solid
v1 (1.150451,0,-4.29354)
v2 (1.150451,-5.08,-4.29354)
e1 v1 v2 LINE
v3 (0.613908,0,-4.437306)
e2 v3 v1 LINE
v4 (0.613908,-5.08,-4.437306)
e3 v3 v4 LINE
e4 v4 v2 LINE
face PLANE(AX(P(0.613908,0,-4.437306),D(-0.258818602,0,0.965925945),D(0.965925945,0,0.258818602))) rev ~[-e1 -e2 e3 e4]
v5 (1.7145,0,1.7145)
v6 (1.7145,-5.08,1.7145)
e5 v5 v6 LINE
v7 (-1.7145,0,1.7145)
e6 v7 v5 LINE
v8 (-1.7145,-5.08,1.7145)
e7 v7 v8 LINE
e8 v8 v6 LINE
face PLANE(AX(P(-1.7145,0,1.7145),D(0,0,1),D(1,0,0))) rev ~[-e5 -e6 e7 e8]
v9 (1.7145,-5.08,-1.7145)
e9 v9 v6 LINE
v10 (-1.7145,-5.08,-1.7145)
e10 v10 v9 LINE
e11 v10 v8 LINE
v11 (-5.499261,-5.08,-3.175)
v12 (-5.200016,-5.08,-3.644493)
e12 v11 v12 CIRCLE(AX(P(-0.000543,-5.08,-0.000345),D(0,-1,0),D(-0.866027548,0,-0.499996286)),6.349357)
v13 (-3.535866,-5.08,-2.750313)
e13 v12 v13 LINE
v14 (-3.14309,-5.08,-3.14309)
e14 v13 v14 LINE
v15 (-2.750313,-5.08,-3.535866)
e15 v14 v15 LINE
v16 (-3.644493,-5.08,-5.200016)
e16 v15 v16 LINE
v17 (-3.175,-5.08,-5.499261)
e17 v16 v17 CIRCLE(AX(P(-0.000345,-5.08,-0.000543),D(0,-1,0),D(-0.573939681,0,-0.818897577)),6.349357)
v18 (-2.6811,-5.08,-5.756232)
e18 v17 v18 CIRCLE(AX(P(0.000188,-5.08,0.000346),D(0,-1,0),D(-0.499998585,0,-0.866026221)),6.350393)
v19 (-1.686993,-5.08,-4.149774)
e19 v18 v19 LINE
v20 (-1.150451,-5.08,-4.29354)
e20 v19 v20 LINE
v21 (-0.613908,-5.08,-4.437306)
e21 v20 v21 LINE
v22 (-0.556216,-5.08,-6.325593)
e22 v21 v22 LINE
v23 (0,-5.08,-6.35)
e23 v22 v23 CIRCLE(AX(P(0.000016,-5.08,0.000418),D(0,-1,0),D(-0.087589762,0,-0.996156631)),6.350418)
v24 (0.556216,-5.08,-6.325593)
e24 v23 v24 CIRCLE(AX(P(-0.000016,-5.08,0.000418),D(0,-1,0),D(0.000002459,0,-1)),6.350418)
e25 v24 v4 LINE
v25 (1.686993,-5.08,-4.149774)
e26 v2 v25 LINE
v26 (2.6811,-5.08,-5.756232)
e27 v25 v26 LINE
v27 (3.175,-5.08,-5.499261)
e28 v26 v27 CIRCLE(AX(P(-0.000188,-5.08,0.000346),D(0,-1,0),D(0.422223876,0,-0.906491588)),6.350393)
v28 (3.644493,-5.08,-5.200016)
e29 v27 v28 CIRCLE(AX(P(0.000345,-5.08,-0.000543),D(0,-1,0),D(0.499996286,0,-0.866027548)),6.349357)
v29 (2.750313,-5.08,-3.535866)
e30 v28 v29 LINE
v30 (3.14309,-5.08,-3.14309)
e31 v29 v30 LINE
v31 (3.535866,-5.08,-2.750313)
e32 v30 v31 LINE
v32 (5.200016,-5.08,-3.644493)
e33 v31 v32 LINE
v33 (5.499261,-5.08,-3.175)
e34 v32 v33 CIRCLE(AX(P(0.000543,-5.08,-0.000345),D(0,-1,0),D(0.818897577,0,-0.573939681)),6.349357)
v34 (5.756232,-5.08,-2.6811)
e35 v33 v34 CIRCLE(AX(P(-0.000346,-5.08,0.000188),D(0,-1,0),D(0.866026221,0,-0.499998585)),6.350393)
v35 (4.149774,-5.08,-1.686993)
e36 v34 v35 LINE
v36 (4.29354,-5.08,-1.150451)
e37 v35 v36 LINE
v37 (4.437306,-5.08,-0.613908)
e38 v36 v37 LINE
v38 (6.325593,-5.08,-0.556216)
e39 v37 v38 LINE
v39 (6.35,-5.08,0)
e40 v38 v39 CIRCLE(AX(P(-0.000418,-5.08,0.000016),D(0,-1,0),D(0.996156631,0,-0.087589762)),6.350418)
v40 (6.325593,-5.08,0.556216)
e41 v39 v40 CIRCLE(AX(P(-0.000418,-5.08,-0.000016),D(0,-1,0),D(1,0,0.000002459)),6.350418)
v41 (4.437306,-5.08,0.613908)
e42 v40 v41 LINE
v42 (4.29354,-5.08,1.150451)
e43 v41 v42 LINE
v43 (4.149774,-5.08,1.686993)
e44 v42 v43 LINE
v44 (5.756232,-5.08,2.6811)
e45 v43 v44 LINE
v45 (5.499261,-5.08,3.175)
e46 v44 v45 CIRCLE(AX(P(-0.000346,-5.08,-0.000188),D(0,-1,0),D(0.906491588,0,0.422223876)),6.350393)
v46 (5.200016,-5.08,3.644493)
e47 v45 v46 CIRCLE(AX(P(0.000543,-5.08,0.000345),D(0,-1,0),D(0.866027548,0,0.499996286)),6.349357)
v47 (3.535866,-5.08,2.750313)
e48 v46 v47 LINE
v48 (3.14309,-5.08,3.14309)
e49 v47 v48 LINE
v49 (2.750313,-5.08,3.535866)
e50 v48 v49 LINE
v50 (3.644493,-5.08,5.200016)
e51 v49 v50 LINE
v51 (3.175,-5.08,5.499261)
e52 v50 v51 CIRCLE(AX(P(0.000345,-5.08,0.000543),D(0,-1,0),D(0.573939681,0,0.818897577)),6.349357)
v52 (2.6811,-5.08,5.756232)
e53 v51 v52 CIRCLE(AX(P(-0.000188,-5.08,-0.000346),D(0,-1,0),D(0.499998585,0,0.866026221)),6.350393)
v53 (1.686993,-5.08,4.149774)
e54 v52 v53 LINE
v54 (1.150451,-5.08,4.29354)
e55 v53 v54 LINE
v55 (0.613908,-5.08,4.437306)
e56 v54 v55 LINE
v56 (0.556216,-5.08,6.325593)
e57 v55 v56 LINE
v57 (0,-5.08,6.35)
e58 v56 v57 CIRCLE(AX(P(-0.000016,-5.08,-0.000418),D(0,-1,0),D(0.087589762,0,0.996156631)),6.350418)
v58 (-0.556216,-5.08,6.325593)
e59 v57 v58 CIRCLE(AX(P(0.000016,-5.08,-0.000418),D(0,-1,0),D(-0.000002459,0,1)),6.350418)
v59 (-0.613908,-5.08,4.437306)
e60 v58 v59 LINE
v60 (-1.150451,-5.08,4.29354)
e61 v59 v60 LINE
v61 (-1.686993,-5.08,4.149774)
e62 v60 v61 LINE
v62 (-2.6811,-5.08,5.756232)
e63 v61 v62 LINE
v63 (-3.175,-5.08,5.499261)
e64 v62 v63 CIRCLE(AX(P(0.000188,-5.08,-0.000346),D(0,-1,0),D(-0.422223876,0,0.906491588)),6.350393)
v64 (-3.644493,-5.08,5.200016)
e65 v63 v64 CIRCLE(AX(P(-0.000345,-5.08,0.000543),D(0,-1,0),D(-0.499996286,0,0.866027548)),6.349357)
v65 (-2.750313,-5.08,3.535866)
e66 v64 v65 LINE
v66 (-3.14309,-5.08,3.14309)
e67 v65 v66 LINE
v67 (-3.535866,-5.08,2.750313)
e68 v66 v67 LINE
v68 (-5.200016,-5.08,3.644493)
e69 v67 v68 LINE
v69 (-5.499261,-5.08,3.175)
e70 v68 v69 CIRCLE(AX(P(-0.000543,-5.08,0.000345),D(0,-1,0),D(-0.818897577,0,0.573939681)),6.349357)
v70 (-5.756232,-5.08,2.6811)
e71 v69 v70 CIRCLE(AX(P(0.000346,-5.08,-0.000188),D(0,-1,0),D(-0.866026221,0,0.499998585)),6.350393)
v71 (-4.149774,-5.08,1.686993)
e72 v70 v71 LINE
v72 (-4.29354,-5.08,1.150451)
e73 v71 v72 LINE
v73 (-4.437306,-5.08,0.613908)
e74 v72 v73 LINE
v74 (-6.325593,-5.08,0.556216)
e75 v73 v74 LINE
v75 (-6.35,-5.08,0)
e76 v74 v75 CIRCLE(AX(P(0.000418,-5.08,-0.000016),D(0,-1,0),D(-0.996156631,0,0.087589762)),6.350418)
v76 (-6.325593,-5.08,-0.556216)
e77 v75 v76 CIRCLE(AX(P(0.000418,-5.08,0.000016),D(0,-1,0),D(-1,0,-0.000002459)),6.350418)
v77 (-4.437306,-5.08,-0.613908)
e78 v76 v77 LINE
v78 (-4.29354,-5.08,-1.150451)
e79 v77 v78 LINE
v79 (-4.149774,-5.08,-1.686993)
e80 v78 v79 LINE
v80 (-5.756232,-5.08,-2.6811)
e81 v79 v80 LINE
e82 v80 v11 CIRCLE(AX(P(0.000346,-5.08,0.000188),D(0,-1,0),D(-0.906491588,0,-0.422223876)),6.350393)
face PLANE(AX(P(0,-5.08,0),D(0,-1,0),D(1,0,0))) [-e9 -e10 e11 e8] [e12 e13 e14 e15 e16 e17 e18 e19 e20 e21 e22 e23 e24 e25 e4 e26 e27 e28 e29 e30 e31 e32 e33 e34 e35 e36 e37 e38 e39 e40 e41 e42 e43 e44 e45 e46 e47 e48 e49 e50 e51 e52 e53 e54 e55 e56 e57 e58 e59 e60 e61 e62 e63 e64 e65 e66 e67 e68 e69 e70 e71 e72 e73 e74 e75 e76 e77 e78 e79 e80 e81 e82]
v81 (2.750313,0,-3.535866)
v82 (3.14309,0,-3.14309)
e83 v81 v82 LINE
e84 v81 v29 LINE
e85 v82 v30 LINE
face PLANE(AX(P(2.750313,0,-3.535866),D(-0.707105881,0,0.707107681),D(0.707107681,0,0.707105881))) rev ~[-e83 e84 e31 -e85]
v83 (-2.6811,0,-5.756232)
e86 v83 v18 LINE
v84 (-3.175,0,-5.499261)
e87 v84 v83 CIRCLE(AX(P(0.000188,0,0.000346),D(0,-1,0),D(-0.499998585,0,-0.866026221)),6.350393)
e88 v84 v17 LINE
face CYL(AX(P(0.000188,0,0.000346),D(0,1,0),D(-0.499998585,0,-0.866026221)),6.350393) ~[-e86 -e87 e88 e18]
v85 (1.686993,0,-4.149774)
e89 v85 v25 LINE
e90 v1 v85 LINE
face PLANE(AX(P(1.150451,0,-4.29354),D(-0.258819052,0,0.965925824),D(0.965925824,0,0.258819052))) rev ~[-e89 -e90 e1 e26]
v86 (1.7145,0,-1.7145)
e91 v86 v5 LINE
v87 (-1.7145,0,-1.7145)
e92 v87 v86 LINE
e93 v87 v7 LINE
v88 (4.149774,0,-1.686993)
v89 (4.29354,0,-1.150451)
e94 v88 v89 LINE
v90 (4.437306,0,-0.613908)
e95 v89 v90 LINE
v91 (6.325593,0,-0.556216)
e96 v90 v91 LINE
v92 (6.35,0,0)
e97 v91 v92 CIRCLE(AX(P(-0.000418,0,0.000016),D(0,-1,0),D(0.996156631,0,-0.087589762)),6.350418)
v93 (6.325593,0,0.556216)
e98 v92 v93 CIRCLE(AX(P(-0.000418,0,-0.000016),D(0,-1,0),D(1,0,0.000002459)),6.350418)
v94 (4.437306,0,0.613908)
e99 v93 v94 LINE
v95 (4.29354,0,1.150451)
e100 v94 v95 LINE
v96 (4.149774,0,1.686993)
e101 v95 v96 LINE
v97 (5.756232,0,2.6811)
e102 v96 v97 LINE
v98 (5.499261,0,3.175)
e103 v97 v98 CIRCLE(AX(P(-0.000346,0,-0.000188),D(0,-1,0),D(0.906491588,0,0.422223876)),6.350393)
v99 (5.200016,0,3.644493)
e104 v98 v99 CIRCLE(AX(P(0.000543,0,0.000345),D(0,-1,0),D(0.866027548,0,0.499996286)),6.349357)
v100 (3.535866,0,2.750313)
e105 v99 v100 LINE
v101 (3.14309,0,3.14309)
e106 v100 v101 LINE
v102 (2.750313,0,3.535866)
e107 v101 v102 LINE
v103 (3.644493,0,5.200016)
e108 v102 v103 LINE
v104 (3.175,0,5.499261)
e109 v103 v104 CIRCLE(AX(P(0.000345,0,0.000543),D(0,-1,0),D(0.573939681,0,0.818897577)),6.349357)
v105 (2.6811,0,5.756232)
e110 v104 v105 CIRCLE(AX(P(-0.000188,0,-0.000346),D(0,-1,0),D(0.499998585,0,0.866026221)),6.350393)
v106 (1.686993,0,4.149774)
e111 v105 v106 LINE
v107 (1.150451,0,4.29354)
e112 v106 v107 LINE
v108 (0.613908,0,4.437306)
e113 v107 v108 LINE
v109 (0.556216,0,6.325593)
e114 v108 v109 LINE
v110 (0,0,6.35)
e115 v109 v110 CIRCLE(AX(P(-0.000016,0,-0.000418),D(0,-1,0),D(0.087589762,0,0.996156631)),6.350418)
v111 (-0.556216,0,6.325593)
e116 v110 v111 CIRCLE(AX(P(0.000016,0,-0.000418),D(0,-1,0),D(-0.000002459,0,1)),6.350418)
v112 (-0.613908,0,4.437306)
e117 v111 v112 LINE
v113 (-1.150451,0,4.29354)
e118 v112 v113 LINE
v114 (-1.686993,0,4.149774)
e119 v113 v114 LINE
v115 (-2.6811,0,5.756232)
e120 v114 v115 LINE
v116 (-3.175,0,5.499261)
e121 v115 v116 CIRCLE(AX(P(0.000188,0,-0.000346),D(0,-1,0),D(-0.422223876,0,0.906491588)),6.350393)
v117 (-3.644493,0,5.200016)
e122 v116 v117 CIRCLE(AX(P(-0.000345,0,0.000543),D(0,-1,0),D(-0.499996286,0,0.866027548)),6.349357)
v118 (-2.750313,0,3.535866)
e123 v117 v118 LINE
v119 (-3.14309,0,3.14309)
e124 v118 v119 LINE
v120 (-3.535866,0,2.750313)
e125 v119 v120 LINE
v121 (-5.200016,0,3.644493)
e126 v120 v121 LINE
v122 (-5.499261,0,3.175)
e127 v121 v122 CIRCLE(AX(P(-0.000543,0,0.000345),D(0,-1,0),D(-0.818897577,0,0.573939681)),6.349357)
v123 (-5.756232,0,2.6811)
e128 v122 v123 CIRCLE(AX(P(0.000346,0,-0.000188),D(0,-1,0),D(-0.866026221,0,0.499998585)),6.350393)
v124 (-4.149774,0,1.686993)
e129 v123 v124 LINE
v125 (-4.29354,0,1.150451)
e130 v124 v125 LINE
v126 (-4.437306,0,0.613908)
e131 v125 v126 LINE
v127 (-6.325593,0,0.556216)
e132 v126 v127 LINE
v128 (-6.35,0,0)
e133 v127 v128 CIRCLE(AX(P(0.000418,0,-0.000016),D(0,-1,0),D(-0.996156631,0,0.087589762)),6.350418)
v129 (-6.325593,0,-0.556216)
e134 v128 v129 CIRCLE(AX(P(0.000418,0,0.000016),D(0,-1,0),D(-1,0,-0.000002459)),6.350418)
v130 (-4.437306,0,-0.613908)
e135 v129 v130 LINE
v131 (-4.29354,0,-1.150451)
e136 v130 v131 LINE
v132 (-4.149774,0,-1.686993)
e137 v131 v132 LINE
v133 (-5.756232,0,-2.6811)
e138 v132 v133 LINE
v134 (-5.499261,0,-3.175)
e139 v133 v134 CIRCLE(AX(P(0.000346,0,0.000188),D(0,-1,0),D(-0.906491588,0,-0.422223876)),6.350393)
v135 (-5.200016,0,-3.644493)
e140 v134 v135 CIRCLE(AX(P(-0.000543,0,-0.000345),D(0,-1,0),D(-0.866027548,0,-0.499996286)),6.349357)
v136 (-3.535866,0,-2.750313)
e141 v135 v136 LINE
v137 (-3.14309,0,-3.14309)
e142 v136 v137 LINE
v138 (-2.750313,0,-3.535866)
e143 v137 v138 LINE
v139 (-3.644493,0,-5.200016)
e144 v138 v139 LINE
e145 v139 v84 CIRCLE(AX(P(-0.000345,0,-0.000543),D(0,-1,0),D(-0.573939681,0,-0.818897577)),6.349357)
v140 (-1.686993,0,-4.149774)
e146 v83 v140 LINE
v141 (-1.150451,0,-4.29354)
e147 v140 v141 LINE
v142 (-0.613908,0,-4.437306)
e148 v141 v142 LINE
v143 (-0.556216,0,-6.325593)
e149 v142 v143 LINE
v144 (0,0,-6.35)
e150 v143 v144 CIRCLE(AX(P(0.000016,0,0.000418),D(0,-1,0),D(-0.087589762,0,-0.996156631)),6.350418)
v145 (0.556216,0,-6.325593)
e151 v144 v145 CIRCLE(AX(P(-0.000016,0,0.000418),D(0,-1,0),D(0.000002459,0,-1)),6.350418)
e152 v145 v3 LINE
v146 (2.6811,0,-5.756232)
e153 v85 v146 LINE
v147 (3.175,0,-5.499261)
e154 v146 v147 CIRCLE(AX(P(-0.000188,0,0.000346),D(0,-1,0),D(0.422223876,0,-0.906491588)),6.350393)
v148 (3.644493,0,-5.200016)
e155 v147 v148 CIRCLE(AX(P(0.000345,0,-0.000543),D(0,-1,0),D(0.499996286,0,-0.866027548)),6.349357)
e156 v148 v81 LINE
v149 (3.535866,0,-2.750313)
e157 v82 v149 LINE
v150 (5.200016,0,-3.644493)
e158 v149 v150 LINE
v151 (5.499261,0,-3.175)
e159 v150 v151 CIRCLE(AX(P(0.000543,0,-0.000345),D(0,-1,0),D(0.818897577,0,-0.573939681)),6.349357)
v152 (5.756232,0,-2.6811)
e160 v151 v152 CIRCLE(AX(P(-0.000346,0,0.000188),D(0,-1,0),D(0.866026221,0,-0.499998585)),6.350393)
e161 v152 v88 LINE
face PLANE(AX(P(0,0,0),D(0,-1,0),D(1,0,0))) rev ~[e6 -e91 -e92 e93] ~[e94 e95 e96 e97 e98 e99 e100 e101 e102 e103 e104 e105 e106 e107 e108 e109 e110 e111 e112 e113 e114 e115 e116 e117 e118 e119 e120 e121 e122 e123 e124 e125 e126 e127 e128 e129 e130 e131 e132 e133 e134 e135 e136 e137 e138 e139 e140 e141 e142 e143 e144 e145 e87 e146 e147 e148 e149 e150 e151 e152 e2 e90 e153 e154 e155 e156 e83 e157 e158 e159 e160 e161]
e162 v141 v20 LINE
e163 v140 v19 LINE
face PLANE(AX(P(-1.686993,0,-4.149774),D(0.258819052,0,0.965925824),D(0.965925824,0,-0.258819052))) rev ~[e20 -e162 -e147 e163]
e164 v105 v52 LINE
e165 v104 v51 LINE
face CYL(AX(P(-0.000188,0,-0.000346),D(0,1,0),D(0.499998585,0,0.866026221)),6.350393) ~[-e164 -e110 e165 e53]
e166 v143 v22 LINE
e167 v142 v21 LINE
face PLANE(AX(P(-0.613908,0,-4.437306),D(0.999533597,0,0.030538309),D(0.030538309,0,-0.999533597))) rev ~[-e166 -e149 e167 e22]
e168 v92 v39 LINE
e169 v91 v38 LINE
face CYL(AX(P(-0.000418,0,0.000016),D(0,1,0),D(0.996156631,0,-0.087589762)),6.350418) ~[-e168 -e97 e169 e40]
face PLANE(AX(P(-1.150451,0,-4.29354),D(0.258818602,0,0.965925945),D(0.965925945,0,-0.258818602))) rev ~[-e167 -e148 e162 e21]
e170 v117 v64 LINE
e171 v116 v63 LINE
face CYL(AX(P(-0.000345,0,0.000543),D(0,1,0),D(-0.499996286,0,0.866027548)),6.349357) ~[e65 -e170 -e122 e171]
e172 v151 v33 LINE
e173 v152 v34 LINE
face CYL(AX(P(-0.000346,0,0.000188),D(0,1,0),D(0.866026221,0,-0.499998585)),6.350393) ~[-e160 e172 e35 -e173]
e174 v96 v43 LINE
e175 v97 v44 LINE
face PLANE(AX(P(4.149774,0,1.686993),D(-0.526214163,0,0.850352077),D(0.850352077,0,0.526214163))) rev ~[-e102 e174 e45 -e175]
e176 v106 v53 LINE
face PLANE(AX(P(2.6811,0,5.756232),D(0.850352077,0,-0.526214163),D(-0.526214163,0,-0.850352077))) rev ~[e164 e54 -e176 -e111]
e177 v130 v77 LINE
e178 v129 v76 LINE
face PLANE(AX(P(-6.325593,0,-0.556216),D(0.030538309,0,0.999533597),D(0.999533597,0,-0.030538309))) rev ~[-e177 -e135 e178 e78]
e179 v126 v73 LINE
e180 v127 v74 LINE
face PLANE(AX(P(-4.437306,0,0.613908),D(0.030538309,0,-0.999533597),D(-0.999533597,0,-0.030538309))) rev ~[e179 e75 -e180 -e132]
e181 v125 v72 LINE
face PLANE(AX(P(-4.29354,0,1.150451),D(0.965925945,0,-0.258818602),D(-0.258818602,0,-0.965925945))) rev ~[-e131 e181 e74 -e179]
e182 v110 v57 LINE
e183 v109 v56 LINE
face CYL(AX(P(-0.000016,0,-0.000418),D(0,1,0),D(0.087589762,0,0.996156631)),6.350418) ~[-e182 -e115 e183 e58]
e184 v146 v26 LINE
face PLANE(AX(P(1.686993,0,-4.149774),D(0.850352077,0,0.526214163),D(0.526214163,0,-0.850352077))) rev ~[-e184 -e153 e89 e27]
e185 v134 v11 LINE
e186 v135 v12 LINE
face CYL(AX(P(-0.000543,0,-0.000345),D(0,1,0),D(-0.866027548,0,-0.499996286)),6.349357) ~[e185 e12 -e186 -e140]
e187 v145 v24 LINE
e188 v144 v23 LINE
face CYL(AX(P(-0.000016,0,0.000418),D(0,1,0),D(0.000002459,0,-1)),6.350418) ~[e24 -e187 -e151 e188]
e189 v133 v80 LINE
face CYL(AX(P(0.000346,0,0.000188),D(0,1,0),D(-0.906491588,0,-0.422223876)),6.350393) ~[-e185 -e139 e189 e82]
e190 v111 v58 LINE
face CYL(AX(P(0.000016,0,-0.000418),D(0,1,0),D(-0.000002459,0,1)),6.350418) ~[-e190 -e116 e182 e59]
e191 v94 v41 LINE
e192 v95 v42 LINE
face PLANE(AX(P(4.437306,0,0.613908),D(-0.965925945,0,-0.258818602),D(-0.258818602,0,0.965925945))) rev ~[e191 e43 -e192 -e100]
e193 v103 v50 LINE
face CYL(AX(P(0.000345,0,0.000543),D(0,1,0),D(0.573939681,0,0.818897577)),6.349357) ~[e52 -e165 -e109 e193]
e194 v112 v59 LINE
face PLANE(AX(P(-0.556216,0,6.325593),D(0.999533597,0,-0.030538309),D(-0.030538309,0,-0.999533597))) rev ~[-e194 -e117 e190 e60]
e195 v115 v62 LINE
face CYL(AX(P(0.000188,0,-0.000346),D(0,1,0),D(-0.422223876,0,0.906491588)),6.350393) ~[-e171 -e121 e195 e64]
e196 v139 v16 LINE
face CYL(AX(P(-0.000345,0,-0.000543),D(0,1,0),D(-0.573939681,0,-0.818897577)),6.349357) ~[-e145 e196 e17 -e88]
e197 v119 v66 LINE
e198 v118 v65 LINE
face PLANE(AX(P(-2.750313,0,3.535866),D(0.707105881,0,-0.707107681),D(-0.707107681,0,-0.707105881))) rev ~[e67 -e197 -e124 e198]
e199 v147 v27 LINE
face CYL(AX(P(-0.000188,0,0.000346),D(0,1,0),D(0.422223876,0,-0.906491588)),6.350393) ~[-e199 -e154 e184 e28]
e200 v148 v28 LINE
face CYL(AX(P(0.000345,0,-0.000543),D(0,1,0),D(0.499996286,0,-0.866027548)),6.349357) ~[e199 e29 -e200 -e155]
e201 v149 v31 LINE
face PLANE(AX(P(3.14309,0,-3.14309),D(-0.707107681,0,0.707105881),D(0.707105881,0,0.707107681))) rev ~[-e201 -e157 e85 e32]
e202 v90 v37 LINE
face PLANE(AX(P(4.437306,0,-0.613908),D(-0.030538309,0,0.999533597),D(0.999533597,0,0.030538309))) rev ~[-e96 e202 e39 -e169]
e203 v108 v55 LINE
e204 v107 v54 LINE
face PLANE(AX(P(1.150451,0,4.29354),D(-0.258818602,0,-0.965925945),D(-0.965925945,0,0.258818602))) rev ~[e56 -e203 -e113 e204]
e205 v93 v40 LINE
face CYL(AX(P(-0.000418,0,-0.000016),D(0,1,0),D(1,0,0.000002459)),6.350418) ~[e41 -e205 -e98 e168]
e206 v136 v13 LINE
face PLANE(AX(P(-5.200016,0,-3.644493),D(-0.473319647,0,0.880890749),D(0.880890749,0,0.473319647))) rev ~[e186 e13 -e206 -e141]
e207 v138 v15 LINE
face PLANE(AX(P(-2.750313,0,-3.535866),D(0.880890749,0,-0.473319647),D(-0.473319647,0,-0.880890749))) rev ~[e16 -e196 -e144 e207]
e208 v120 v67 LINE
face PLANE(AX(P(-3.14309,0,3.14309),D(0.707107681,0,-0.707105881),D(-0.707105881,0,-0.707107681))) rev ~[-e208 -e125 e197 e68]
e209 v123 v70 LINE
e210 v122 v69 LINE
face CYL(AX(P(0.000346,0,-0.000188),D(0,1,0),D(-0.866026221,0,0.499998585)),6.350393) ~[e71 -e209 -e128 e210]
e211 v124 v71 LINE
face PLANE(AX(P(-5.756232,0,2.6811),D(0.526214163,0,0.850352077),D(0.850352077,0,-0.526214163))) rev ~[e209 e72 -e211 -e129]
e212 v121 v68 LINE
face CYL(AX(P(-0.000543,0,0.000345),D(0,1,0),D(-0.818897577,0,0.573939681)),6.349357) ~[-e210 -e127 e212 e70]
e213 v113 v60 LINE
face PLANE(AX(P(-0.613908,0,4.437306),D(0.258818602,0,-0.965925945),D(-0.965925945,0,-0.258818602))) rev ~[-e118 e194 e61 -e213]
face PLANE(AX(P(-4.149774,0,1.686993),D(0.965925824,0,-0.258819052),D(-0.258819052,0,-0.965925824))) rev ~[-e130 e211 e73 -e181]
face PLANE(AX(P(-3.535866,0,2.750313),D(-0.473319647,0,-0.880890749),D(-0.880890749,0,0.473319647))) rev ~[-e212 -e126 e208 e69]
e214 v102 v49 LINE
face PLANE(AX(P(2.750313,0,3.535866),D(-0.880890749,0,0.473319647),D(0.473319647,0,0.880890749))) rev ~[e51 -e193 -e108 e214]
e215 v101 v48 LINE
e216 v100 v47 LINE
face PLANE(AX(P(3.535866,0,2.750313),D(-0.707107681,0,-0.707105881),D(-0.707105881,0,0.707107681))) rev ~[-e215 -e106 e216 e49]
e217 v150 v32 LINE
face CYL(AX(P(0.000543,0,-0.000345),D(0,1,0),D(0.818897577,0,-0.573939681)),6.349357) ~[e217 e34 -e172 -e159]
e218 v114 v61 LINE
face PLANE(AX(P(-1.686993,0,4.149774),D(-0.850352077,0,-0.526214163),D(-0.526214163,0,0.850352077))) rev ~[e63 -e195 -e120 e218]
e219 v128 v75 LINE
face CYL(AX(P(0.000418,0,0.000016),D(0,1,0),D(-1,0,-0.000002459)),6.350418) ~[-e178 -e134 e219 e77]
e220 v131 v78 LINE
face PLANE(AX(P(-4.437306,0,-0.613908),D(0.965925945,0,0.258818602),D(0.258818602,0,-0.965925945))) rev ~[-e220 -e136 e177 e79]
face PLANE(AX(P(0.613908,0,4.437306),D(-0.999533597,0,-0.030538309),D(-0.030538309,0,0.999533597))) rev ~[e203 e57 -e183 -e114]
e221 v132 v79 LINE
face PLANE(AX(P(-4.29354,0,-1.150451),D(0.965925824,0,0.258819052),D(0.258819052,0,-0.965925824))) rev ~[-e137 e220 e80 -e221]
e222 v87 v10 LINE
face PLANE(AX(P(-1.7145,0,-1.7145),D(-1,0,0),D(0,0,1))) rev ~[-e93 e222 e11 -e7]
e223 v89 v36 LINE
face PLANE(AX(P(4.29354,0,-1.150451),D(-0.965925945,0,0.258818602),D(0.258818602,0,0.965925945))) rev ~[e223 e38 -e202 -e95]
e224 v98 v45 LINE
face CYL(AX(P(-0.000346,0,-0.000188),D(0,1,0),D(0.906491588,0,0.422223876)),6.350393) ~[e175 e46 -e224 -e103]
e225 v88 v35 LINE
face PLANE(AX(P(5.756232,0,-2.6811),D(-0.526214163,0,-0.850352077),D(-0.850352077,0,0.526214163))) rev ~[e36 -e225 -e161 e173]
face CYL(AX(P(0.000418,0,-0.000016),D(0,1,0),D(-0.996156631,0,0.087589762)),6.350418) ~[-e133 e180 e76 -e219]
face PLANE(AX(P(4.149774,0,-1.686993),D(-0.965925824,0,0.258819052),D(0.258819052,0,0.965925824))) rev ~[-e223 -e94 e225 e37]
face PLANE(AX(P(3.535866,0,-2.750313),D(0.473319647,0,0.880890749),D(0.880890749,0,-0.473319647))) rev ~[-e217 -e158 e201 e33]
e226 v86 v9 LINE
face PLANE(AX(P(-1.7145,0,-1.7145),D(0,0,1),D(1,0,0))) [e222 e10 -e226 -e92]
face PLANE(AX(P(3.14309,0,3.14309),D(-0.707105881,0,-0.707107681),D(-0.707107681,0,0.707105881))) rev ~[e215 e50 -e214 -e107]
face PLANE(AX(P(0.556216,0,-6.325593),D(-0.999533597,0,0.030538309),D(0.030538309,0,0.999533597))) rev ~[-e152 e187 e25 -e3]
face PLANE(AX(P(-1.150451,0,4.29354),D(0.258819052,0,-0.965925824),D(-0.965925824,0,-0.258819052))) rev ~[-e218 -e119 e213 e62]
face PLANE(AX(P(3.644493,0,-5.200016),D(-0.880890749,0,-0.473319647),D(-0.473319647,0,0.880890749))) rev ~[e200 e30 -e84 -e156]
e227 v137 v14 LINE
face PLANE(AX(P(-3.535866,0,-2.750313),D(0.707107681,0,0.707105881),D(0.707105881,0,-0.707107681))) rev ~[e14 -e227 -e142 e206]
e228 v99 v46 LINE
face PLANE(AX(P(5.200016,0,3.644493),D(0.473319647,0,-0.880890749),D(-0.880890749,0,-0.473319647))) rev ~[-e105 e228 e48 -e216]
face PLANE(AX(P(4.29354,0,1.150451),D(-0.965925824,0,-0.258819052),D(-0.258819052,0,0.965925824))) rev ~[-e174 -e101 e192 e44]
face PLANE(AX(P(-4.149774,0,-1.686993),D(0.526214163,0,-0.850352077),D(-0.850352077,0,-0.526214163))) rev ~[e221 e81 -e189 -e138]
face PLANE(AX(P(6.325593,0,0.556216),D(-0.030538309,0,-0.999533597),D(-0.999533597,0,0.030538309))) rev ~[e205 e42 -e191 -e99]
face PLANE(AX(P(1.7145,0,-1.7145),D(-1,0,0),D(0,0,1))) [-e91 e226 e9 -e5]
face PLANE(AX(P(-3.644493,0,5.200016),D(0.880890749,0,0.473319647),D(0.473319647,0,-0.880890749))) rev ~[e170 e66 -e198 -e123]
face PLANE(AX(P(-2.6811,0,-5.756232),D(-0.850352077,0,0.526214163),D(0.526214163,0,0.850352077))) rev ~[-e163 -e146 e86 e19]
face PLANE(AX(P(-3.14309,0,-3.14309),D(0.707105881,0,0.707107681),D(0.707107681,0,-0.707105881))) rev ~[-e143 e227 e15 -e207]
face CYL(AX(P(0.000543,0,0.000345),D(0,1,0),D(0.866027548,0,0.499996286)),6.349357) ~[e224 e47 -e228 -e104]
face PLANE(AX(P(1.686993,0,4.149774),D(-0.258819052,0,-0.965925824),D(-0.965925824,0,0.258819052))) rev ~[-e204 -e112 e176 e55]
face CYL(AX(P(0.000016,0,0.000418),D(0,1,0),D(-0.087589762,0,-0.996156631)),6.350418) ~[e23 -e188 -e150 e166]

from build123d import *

# Parameters (mm, degrees)
F0_W     = 3.429
F0_H     = 3.429
F1_DEPTH = 5.08


with BuildPart() as f1:
    # F0 (on Front) → F1 (new body)
    with BuildSketch(Plane.XZ):
        with BuildLine():
            ThreePointArc((6.325593, -0.556216), (6.343895, -0.278375), (6.35, 0))
            ThreePointArc((6.35, 0), (6.343895, 0.278375), (6.325593, 0.556216))
            Line((6.325593, 0.556216), (4.437306, 0.613908))
            Line((4.437306, 0.613908), (4.29354, 1.150451))
            Line((4.29354, 1.150451), (4.149774, 1.686993))
            Line((4.149774, 1.686993), (5.756232, 2.6811))
            ThreePointArc((5.756232, 2.6811), (5.633162, 2.930867), (5.499261, 3.175))
            ThreePointArc((5.499261, 3.175), (5.354787, 3.413028), (5.200016, 3.644493))
            Line((5.200016, 3.644493), (3.535866, 2.750313))
            Line((3.535866, 2.750313), (3.14309, 3.14309))
            Line((3.14309, 3.14309), (2.750313, 3.535866))
            Line((2.750313, 3.535866), (3.644493, 5.200016))
            ThreePointArc((3.644493, 5.200016), (3.413028, 5.354787), (3.175, 5.499261))
            ThreePointArc((3.175, 5.499261), (2.930867, 5.633162), (2.6811, 5.756232))
            Line((2.6811, 5.756232), (1.686993, 4.149774))
            Line((1.686993, 4.149774), (1.150451, 4.29354))
            Line((1.150451, 4.29354), (0.613908, 4.437306))
            Line((0.613908, 4.437306), (0.556216, 6.325593))
            ThreePointArc((0.556216, 6.325593), (0.278375, 6.343895), (0, 6.35))
            ThreePointArc((0, 6.35), (-0.278375, 6.343895), (-0.556216, 6.325593))
            Line((-0.556216, 6.325593), (-0.613908, 4.437306))
            Line((-0.613908, 4.437306), (-1.150451, 4.29354))
            Line((-1.150451, 4.29354), (-1.686993, 4.149774))
            Line((-1.686993, 4.149774), (-2.6811, 5.756232))
            ThreePointArc((-2.6811, 5.756232), (-2.930867, 5.633162), (-3.175, 5.499261))
            ThreePointArc((-3.175, 5.499261), (-3.413028, 5.354787), (-3.644493, 5.200016))
            Line((-3.644493, 5.200016), (-2.750313, 3.535866))
            Line((-2.750313, 3.535866), (-3.14309, 3.14309))
            Line((-3.14309, 3.14309), (-3.535866, 2.750313))
            Line((-3.535866, 2.750313), (-5.200016, 3.644493))
            ThreePointArc((-5.200016, 3.644493), (-5.354787, 3.413028), (-5.499261, 3.175))
            ThreePointArc((-5.499261, 3.175), (-5.633162, 2.930867), (-5.756232, 2.6811))
            Line((-5.756232, 2.6811), (-4.149774, 1.686993))
            Line((-4.149774, 1.686993), (-4.29354, 1.150451))
            Line((-4.29354, 1.150451), (-4.437306, 0.613908))
            Line((-4.437306, 0.613908), (-6.325593, 0.556216))
            ThreePointArc((-6.325593, 0.556216), (-6.343895, 0.278375), (-6.35, 0))
            ThreePointArc((-6.35, 0), (-6.343895, -0.278375), (-6.325593, -0.556216))
            Line((-6.325593, -0.556216), (-4.437306, -0.613908))
            Line((-4.437306, -0.613908), (-4.29354, -1.150451))
            Line((-4.29354, -1.150451), (-4.149774, -1.686993))
            Line((-4.149774, -1.686993), (-5.756232, -2.6811))
            ThreePointArc((-5.756232, -2.6811), (-5.633162, -2.930867), (-5.499261, -3.175))
            ThreePointArc((-5.499261, -3.175), (-5.354787, -3.413028), (-5.200016, -3.644493))
            Line((-5.200016, -3.644493), (-3.535866, -2.750313))
            Line((-3.535866, -2.750313), (-3.14309, -3.14309))
            Line((-3.14309, -3.14309), (-2.750313, -3.535866))
            Line((-2.750313, -3.535866), (-3.644493, -5.200016))
            ThreePointArc((-3.644493, -5.200016), (-3.413028, -5.354787), (-3.175, -5.499261))
            ThreePointArc((-3.175, -5.499261), (-2.930867, -5.633162), (-2.6811, -5.756232))
            Line((-2.6811, -5.756232), (-1.686993, -4.149774))
            Line((-1.686993, -4.149774), (-1.150451, -4.29354))
            Line((-1.150451, -4.29354), (-0.613908, -4.437306))
            Line((-0.613908, -4.437306), (-0.556216, -6.325593))
            ThreePointArc((-0.556216, -6.325593), (-0.278375, -6.343895), (0, -6.35))
            ThreePointArc((0, -6.35), (0.278375, -6.343895), (0.556216, -6.325593))
            Line((0.556216, -6.325593), (0.613908, -4.437306))
            Line((0.613908, -4.437306), (1.150451, -4.29354))
            Line((1.150451, -4.29354), (1.686993, -4.149774))
            Line((1.686993, -4.149774), (2.6811, -5.756232))
            ThreePointArc((2.6811, -5.756232), (2.930867, -5.633162), (3.175, -5.499261))
            ThreePointArc((3.175, -5.499261), (3.413028, -5.354787), (3.644493, -5.200016))
            Line((3.644493, -5.200016), (2.750313, -3.535866))
            Line((2.750313, -3.535866), (3.14309, -3.14309))
            Line((3.14309, -3.14309), (3.535866, -2.750313))
            Line((3.535866, -2.750313), (5.200016, -3.644493))
            ThreePointArc((5.200016, -3.644493), (5.354787, -3.413028), (5.499261, -3.175))
            ThreePointArc((5.499261, -3.175), (5.633162, -2.930867), (5.756232, -2.6811))
            Line((5.756232, -2.6811), (4.149774, -1.686993))
            Line((4.149774, -1.686993), (4.29354, -1.150451))
            Line((4.29354, -1.150451), (4.437306, -0.613908))
            Line((4.437306, -0.613908), (6.325593, -0.556216))
        make_face()
        Rectangle(F0_W, F0_H, mode=Mode.SUBTRACT)
    extrude(amount=F1_DEPTH)


solid = f1.part
